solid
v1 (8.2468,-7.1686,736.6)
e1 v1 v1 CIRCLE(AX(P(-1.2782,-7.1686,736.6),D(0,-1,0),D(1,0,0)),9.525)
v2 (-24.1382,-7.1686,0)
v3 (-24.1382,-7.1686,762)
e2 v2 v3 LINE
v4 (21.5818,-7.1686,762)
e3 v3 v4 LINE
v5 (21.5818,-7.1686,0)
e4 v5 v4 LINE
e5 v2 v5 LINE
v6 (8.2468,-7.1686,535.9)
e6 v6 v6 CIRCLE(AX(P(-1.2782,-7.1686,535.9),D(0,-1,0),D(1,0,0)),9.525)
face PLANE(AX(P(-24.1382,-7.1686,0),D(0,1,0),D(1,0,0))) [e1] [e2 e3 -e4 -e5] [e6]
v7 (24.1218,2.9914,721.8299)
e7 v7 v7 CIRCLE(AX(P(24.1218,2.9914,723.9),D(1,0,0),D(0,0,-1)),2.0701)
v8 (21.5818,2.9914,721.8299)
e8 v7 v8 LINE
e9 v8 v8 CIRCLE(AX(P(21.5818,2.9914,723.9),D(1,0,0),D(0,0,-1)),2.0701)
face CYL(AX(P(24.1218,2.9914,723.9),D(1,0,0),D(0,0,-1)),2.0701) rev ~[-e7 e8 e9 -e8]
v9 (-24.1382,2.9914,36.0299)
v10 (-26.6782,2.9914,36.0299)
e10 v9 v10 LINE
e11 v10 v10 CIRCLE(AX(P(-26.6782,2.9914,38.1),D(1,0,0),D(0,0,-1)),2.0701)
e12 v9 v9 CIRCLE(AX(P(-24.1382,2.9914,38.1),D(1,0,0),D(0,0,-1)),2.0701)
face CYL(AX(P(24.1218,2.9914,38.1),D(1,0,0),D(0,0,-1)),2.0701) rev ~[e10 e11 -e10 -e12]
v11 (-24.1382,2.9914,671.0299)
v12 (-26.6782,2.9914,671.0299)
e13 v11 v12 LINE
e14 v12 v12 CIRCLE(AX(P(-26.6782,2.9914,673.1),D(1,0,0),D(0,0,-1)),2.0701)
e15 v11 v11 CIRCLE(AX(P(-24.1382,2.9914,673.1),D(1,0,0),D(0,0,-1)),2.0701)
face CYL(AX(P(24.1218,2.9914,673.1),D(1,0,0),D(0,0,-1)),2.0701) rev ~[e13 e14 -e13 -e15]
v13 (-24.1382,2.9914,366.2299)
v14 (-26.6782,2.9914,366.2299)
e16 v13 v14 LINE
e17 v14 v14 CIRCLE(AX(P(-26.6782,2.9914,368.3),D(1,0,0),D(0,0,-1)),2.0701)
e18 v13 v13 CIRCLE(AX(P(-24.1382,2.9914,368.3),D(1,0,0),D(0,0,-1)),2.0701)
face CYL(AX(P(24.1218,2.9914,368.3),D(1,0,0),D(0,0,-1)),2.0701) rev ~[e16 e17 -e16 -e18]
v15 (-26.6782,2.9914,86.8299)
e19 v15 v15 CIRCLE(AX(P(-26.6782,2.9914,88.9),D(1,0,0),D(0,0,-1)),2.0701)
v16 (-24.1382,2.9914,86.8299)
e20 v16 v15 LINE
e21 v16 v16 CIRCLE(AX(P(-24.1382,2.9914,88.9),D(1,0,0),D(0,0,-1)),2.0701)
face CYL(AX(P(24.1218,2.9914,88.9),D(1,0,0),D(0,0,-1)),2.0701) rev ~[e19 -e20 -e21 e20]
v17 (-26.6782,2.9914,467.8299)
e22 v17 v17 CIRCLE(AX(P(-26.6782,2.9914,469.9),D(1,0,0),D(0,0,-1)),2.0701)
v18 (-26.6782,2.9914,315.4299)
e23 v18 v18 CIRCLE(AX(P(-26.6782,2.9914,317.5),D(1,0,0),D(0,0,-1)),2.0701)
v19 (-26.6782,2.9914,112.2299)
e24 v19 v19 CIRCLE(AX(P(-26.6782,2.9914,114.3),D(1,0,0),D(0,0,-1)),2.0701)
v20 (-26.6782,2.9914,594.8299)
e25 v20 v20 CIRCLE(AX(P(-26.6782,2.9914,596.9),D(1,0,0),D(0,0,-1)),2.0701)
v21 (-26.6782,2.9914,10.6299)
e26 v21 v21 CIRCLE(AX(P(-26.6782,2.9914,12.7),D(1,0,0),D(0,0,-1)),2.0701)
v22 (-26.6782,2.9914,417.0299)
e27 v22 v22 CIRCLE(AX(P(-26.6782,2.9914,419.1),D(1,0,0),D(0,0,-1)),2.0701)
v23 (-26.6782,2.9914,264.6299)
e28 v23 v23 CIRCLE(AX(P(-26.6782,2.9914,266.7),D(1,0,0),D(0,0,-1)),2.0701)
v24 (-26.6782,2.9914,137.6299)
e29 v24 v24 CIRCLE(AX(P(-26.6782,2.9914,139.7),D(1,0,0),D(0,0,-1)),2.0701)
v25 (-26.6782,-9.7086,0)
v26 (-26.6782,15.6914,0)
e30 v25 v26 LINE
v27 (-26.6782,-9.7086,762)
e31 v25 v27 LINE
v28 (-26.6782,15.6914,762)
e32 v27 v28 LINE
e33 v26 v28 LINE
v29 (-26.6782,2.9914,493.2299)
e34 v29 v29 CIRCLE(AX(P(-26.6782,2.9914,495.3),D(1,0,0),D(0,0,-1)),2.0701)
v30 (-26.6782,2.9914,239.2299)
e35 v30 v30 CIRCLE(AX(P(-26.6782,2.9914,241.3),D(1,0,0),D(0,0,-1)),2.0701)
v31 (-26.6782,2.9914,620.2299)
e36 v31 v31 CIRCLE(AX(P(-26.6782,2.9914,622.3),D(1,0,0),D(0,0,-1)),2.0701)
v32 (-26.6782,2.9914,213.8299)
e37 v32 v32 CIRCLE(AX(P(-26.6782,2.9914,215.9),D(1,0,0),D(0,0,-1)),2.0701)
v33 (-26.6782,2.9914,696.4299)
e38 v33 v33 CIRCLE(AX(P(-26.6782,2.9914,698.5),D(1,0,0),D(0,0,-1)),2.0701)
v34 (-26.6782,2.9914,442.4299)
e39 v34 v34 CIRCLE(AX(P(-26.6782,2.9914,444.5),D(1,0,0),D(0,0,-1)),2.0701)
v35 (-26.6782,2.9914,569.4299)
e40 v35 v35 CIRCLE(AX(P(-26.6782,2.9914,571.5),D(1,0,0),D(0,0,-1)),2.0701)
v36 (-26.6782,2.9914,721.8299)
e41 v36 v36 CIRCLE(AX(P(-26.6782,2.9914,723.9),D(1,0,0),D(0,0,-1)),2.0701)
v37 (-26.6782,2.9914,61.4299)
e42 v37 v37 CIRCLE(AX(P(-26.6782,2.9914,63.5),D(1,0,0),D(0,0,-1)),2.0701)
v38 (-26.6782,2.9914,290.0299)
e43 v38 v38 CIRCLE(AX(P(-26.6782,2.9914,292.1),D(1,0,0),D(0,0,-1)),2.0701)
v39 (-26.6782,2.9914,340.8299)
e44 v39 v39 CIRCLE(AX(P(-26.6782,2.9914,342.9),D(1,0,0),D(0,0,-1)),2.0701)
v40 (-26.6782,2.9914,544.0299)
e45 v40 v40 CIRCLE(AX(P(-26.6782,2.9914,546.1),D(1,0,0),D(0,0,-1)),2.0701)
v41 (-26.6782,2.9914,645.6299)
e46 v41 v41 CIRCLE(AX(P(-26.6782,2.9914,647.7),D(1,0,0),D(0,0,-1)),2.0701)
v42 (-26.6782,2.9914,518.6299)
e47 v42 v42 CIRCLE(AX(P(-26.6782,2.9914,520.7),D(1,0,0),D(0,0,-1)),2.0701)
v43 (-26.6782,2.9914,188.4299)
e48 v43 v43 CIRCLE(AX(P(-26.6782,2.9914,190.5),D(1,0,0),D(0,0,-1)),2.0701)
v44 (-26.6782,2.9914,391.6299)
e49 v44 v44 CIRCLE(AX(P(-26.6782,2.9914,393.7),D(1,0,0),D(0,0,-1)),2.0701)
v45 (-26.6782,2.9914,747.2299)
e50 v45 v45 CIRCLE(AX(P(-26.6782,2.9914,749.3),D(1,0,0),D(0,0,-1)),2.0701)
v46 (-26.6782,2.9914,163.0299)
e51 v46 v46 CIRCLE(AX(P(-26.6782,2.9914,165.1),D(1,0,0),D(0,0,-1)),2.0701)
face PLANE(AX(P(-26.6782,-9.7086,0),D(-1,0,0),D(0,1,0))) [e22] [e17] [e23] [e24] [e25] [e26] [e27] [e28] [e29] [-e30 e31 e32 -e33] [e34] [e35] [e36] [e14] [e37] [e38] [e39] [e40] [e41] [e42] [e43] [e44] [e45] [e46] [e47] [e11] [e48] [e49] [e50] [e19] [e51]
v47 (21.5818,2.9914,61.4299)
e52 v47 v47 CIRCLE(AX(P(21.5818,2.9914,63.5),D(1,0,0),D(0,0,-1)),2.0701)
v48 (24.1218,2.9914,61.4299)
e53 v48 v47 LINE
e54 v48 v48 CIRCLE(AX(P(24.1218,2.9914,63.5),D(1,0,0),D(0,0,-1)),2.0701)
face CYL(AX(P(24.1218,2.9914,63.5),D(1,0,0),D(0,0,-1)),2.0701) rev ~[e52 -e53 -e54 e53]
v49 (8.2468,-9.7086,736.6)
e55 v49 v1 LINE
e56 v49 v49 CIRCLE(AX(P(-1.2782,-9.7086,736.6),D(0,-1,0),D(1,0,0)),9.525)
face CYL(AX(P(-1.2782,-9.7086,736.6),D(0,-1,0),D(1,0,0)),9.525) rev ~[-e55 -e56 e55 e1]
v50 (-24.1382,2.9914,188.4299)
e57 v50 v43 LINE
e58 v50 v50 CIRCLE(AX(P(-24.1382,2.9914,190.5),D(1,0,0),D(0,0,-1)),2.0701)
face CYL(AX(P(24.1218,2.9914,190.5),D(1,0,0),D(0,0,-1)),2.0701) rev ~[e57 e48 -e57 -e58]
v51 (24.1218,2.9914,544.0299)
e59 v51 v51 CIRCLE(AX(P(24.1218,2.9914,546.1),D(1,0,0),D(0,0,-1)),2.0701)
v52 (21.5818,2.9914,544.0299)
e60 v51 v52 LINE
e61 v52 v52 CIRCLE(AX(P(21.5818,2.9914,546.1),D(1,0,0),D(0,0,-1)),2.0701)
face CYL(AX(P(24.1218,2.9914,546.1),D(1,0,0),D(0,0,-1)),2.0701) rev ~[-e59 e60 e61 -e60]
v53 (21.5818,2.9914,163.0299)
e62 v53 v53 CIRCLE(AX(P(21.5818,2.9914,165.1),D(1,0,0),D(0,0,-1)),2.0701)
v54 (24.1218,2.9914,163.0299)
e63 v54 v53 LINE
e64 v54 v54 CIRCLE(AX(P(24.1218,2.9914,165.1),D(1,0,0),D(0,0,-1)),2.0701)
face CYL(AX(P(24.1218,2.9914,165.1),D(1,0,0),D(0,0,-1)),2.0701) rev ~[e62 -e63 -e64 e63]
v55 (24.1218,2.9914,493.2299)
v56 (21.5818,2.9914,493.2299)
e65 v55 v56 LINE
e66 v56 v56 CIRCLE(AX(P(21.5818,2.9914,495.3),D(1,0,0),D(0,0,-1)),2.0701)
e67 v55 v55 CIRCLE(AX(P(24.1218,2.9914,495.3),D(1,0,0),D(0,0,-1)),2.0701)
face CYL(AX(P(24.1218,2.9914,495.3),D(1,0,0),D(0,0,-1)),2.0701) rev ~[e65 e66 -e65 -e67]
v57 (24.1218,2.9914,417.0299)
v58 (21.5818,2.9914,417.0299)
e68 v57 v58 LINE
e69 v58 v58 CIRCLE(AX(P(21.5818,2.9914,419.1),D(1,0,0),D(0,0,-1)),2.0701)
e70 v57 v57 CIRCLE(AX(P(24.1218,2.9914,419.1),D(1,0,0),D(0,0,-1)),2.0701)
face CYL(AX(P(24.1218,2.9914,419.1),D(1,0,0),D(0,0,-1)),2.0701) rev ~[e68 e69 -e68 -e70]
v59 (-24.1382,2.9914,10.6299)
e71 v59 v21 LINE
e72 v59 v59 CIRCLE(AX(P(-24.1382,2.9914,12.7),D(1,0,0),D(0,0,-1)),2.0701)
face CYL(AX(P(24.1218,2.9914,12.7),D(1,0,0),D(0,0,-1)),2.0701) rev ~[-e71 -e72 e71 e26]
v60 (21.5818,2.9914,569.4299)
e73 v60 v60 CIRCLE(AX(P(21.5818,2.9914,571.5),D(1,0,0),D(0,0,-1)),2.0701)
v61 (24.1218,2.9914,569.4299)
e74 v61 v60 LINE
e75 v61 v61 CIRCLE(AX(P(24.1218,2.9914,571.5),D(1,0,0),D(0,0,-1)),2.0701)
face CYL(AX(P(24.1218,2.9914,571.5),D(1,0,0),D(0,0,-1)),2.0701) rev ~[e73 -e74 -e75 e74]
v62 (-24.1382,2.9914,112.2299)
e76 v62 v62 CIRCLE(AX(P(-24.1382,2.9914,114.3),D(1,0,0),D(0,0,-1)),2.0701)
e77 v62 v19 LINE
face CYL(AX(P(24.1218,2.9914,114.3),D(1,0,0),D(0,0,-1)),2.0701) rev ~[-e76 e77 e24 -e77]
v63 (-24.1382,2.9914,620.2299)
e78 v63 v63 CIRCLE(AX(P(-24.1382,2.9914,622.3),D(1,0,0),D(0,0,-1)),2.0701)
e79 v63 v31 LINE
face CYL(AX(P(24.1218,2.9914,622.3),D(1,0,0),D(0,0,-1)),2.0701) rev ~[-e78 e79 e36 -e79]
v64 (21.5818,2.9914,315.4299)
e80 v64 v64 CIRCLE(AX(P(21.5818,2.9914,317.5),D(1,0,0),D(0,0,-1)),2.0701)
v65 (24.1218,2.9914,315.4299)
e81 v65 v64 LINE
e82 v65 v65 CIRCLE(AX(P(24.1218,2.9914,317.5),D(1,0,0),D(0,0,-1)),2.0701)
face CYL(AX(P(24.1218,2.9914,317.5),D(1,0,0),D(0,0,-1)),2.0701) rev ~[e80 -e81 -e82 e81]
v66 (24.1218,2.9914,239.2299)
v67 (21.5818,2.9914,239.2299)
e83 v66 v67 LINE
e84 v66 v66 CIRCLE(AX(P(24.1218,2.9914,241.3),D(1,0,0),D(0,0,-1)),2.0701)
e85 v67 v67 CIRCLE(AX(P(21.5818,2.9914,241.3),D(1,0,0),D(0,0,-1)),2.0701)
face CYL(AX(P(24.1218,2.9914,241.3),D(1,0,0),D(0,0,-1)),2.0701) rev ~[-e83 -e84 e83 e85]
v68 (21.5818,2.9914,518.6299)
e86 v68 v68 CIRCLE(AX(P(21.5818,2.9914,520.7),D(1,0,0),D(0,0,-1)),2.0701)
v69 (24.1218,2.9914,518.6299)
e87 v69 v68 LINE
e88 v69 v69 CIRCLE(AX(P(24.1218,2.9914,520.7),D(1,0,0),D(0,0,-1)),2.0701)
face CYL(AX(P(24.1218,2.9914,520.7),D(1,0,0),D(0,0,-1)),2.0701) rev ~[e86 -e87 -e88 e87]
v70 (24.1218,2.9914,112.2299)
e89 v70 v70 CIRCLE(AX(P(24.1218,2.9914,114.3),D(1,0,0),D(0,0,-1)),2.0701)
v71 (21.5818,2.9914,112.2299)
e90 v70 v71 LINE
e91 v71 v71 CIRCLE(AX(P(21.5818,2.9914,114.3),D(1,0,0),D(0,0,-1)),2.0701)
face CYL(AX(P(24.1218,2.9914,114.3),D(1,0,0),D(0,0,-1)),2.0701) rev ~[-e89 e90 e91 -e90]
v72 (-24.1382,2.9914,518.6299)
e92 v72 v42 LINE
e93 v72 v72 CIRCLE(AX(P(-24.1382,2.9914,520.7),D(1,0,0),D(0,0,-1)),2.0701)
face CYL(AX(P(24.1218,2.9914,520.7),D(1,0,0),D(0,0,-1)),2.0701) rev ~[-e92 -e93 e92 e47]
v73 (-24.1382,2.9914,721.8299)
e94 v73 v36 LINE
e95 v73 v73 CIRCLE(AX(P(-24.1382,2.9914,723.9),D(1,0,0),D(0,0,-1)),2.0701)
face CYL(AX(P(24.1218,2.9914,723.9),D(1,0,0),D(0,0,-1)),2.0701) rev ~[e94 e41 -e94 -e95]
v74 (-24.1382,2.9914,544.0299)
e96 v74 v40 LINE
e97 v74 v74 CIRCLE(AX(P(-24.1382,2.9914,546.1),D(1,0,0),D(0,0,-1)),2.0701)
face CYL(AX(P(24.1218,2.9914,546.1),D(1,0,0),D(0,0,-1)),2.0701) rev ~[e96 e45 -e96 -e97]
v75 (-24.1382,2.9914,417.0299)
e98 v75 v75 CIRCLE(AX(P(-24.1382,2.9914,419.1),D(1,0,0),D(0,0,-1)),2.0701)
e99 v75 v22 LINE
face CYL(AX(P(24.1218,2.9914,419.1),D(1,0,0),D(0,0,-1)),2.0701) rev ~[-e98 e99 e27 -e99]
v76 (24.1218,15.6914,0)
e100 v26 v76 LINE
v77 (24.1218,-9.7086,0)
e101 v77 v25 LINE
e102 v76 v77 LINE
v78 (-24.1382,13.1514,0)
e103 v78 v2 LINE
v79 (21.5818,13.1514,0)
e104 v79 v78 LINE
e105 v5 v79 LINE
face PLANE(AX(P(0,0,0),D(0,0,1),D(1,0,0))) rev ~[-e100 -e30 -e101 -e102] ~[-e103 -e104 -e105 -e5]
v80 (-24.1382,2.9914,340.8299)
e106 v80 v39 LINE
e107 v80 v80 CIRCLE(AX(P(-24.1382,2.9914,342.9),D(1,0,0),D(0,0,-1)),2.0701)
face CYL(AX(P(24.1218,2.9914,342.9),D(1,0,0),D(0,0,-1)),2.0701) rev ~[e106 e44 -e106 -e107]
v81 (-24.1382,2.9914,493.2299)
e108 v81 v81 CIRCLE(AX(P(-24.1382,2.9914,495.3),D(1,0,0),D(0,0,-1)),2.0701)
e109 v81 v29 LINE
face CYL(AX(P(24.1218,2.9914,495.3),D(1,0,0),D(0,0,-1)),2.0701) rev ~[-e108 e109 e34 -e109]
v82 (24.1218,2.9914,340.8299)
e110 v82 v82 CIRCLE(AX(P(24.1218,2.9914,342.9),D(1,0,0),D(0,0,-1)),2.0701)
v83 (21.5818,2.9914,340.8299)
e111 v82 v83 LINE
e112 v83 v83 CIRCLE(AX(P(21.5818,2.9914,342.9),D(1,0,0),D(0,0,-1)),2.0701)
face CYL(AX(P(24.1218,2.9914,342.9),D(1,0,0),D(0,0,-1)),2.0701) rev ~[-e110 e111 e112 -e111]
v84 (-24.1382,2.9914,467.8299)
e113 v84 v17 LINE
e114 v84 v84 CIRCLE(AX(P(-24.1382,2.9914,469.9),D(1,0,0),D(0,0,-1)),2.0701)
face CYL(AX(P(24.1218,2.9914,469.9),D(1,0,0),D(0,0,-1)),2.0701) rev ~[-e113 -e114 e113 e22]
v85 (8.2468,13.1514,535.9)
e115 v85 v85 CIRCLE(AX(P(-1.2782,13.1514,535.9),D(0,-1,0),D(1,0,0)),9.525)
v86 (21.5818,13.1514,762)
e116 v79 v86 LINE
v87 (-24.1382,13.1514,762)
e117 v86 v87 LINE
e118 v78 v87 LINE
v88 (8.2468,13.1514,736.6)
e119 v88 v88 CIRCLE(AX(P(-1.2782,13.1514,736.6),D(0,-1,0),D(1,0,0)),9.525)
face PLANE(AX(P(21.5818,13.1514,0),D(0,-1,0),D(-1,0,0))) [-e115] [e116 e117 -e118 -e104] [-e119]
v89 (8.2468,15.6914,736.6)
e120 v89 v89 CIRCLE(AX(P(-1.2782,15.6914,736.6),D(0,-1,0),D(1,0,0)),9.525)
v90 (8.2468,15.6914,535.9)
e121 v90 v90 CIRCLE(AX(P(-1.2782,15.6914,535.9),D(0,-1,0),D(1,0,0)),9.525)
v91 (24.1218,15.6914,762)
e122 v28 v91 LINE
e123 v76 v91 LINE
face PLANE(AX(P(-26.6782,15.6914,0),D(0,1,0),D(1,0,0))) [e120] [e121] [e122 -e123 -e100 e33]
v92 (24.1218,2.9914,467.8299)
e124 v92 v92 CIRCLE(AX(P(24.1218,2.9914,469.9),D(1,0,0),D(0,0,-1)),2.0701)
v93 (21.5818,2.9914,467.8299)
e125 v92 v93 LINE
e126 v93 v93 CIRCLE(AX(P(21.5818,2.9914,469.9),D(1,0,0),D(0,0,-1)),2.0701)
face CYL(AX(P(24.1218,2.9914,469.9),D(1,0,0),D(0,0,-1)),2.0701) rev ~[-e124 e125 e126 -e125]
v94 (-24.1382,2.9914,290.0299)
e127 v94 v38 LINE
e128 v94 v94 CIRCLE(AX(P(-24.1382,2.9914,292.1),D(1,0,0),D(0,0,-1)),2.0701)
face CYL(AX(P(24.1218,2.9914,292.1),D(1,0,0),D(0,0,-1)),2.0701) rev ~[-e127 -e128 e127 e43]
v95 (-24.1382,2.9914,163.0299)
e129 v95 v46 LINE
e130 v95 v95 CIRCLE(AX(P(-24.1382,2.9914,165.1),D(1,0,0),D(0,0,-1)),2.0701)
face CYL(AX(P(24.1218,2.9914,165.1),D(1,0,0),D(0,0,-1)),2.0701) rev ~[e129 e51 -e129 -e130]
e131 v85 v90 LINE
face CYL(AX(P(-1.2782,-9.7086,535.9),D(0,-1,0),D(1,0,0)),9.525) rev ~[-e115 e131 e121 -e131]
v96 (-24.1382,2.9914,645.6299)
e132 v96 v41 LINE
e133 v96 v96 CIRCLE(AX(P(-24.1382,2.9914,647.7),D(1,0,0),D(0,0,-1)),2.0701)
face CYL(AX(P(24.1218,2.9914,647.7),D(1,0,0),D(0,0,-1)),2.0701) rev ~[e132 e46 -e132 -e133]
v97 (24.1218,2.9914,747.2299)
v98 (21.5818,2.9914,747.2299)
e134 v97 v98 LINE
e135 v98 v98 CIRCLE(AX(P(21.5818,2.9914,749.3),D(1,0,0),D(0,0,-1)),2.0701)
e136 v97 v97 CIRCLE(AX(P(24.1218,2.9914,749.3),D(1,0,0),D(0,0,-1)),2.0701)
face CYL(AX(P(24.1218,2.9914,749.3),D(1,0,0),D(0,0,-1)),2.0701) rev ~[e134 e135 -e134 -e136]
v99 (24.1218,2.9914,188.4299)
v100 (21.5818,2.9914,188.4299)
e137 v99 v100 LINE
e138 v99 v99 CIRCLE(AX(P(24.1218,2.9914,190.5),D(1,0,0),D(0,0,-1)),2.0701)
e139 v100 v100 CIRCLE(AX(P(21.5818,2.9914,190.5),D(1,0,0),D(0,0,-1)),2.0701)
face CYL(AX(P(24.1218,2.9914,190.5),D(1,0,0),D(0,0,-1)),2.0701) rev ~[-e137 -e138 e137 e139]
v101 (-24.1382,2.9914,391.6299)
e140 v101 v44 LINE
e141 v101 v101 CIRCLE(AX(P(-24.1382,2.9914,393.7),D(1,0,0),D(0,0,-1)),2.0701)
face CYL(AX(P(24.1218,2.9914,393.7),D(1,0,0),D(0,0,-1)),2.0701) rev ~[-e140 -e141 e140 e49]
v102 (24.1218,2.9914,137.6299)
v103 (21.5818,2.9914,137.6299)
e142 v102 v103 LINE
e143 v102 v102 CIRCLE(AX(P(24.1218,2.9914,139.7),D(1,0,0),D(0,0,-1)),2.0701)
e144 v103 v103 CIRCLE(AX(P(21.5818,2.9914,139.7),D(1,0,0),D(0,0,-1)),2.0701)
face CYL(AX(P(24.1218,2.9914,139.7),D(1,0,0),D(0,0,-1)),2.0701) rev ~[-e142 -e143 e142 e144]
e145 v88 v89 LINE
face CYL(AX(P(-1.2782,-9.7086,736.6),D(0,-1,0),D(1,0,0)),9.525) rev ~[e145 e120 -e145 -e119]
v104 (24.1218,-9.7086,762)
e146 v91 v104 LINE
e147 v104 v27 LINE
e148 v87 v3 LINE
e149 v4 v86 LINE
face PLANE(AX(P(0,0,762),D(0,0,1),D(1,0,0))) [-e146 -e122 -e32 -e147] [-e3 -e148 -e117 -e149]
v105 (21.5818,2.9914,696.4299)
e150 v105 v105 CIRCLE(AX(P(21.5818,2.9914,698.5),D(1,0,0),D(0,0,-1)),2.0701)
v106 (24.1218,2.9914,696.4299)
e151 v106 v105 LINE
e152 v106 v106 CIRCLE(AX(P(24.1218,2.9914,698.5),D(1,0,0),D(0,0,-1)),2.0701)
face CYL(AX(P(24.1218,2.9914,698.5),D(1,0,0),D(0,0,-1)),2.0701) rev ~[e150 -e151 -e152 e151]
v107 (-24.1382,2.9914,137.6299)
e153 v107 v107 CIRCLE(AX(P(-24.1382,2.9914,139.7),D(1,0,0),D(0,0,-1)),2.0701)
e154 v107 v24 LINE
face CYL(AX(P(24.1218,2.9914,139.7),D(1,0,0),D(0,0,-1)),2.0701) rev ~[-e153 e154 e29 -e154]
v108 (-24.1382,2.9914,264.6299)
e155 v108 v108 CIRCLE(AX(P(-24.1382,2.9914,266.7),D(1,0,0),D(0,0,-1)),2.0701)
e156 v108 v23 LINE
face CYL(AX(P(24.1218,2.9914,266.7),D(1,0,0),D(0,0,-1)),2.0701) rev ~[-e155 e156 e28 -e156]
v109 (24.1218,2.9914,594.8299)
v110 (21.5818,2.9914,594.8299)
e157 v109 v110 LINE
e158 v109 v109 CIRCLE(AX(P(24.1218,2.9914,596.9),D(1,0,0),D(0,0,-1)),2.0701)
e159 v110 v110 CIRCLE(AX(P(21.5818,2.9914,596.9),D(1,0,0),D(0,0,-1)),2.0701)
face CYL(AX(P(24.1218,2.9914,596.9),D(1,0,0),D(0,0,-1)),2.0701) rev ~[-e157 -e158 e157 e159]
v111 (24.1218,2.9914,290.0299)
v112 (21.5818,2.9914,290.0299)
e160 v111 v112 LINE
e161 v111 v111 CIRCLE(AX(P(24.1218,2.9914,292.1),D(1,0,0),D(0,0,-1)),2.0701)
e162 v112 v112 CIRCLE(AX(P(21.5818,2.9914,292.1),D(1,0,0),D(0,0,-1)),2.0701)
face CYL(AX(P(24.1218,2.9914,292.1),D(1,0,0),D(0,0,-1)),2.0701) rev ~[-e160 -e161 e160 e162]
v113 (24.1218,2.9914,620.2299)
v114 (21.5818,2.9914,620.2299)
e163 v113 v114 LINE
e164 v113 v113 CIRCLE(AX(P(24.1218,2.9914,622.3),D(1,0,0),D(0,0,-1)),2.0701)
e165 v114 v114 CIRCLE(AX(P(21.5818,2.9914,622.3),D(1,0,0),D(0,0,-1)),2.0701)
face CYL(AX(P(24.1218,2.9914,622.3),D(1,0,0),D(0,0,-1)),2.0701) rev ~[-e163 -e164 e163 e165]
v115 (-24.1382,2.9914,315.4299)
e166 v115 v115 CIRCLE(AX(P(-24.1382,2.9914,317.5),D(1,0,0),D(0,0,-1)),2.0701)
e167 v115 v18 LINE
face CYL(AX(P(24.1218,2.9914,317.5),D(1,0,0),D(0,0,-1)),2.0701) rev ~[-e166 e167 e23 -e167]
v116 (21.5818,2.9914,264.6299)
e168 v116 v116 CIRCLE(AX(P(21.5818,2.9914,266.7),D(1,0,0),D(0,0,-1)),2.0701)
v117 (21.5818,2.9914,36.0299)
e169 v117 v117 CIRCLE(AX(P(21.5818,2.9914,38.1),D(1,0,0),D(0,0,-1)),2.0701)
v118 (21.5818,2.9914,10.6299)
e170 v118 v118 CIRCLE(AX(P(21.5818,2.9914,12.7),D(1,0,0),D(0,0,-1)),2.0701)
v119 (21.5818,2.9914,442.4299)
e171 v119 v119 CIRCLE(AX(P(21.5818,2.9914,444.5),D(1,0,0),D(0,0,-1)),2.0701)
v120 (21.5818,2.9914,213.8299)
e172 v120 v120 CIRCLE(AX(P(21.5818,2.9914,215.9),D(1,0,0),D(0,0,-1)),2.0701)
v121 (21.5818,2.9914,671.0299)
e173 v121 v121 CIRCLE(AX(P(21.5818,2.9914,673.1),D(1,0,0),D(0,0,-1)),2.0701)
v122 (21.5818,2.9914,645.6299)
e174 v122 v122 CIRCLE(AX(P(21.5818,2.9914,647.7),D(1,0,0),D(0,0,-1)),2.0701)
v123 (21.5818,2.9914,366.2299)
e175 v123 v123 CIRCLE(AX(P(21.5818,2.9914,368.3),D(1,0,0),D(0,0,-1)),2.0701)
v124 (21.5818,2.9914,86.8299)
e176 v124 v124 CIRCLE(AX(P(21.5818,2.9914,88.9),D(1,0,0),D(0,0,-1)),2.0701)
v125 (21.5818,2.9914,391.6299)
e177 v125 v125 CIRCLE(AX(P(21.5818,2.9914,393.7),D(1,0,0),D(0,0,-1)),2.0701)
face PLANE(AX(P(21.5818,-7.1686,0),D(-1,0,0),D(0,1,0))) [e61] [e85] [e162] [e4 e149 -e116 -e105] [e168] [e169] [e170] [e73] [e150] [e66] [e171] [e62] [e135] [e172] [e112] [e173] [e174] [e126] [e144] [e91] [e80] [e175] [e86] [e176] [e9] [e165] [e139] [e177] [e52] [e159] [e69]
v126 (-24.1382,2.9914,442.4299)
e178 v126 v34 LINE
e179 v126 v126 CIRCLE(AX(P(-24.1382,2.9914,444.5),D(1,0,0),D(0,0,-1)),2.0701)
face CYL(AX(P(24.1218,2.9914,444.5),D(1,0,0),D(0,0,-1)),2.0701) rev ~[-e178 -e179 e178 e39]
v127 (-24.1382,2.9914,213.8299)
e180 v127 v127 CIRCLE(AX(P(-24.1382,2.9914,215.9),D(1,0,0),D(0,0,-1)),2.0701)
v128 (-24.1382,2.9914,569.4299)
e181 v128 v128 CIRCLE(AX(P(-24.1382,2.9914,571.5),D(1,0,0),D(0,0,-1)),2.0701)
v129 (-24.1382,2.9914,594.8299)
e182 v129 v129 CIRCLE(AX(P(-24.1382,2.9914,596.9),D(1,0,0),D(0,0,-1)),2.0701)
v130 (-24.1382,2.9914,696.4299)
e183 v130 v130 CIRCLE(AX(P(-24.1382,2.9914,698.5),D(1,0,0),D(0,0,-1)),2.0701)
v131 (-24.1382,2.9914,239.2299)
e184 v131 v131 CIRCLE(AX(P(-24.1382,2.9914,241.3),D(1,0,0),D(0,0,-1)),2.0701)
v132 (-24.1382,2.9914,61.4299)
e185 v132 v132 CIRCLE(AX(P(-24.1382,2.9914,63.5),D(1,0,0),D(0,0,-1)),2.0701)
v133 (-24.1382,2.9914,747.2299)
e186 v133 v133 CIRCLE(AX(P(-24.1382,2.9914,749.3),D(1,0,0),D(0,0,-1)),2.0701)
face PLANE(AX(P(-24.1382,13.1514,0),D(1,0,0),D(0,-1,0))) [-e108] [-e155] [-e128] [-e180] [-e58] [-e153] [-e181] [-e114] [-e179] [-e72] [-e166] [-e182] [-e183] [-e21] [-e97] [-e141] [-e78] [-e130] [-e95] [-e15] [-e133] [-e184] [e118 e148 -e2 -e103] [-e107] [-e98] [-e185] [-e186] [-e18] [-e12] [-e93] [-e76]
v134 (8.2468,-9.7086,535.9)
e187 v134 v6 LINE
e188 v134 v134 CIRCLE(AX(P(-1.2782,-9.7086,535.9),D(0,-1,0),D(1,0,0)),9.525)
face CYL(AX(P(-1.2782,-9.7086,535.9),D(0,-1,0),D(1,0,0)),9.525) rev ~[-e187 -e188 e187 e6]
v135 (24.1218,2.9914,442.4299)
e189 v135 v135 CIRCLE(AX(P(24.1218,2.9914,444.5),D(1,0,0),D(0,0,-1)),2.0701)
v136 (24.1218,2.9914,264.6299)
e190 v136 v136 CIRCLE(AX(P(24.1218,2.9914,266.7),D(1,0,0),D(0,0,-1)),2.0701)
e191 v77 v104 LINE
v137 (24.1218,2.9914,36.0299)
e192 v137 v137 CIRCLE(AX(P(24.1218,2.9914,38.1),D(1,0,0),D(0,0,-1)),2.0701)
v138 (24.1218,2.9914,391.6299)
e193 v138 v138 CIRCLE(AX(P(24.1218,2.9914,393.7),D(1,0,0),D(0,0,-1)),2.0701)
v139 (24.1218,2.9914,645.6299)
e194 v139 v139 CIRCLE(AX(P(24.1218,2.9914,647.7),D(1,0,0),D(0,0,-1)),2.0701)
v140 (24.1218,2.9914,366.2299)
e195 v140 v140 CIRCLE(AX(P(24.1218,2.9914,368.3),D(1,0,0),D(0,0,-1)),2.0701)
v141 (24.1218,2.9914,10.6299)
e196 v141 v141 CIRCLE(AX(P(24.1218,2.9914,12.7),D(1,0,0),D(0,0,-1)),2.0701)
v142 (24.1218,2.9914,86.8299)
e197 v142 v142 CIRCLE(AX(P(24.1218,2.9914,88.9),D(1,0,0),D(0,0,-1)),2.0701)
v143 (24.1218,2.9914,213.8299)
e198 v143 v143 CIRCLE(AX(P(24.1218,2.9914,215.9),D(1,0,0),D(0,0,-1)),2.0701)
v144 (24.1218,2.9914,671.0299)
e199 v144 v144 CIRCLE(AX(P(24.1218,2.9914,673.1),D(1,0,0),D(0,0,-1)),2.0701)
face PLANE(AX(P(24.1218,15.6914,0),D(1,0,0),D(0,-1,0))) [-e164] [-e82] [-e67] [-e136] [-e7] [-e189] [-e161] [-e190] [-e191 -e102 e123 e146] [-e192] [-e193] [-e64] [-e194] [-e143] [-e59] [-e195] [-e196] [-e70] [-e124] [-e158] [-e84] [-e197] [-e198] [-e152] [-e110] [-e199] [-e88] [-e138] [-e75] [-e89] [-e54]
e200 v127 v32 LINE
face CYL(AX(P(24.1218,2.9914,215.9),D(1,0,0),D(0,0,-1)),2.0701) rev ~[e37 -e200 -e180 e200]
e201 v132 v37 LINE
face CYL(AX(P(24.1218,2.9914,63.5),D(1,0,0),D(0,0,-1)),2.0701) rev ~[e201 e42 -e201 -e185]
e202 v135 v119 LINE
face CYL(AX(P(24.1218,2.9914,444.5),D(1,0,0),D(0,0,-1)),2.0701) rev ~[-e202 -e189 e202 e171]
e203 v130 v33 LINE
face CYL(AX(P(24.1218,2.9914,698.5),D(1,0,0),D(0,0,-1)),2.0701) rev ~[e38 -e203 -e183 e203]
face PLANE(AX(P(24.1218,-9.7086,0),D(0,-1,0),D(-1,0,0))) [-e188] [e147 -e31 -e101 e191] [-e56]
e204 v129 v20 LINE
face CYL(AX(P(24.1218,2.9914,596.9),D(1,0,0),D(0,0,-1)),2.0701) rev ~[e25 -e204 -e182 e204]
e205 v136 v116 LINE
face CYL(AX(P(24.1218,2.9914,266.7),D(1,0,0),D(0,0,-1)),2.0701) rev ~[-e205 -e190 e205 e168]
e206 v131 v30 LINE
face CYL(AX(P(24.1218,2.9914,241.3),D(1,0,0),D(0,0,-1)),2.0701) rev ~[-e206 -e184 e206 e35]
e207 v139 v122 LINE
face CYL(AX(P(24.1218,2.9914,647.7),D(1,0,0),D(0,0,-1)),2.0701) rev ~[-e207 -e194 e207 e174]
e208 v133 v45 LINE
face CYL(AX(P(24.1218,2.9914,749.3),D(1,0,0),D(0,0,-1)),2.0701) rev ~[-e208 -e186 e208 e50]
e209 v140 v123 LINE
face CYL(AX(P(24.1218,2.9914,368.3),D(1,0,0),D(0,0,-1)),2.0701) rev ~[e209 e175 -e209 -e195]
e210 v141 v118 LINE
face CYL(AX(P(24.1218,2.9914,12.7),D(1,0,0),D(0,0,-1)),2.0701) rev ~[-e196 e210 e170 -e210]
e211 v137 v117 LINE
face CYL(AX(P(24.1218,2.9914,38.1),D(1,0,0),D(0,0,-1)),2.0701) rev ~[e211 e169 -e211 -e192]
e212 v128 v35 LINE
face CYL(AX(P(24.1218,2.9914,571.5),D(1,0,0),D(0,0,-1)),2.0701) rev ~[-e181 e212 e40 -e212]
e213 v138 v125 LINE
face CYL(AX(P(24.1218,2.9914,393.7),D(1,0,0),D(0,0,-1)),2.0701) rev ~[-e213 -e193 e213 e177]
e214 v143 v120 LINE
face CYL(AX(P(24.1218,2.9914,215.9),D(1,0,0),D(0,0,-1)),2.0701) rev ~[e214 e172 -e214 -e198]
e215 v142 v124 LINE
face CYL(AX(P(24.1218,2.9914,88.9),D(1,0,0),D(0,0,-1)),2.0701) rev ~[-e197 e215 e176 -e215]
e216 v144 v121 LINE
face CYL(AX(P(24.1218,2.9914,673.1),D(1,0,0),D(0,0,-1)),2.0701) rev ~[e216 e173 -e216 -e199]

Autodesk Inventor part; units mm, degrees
ref_plane "YZ Plane" through (0, 0, 0) normal (1, 0, 0) x (0, 1, 0)
ref_plane "XZ Plane" through (0, 0, 0) normal (0, 1, 0) x (-1, 0, 0)
ref_plane "XY Plane" through (0, 0, 0) normal (0, 0, 1) x (1, 0, 0)
sketch "Sketch1" plane through (0, 0, 0) normal (0, 0, 1) x (1, 0, 0)
  line L0 (24.1218, -9.7086) -> (-26.6782, -9.7086)
  line L1 (-26.6782, -9.7086) -> (-26.6782, 15.6914)
  line L2 (-26.6782, 15.6914) -> (24.1218, 15.6914)
  line L3 (24.1218, 15.6914) -> (24.1218, -9.7086)
  line L4 (21.5818, 13.1514) -> (-24.1382, 13.1514)
  line L5 (-24.1382, 13.1514) -> (-24.1382, -7.1686)
  line L6 (-24.1382, -7.1686) -> (21.5818, -7.1686)
  line L7 (21.5818, -7.1686) -> (21.5818, 13.1514)
  point P0 (0, 0)
  dimension "d0" = 25.4
  dimension "d1" = 50.8
  dimension "d2" = 2.54
extrude "Extrusion1" add sketch "Sketch1" along normal blind 762
sketch "Sketch2" plane through (24.1218, -9.7086, 0) normal (1, 0, 0) x (0, 0, -1)
  circle A0 centre (-12.7, 12.7) radius 2.0701
  line L0 (0, 25.4) -> (-762, 25.4) projected
  line L1 (0, 25.4) -> (0, 0) projected
  circle A1 centre (-38.1, 12.7) radius 2.0701
  circle A2 centre (-63.5, 12.7) radius 2.0701
  circle A3 centre (-88.9, 12.7) radius 2.0701
  circle A4 centre (-114.3, 12.7) radius 2.0701
  circle A5 centre (-139.7, 12.7) radius 2.0701
  circle A6 centre (-165.1, 12.7) radius 2.0701
  circle A7 centre (-190.5, 12.7) radius 2.0701
  circle A8 centre (-215.9, 12.7) radius 2.0701
  circle A9 centre (-241.3, 12.7) radius 2.0701
  circle A10 centre (-266.7, 12.7) radius 2.0701
  circle A11 centre (-292.1, 12.7) radius 2.0701
  circle A12 centre (-317.5, 12.7) radius 2.0701
  circle A13 centre (-342.9, 12.7) radius 2.0701
  circle A14 centre (-368.3, 12.7) radius 2.0701
  circle A15 centre (-393.7, 12.7) radius 2.0701
  circle A16 centre (-419.1, 12.7) radius 2.0701
  circle A17 centre (-444.5, 12.7) radius 2.0701
  circle A18 centre (-469.9, 12.7) radius 2.0701
  circle A19 centre (-495.3, 12.7) radius 2.0701
  circle A20 centre (-520.7, 12.7) radius 2.0701
  circle A21 centre (-546.1, 12.7) radius 2.0701
  circle A22 centre (-571.5, 12.7) radius 2.0701
  circle A23 centre (-596.9, 12.7) radius 2.0701
  circle A24 centre (-622.3, 12.7) radius 2.0701
  circle A25 centre (-647.7, 12.7) radius 2.0701
  circle A26 centre (-673.1, 12.7) radius 2.0701
  circle A27 centre (-698.5, 12.7) radius 2.0701
  circle A28 centre (-723.9, 12.7) radius 2.0701
  circle A29 centre (-749.3, 12.7) radius 2.0701
  point P0 (0, 9.7086)
  point P1 (0, 12.7)
  dimension "d5" = 12.7
  dimension "d6" = 4.1402
  dimension "d9" = 25.4
extrude "Extrusion2" cut sketch "Sketch2" against normal through all
sketch "Sketch3" plane through (-26.6782, -9.7086, 0) normal (0, -1, 0) x (1, 0, 0)
  circle A0 centre (25.4, 736.6) radius 9.525
  circle A1 centre (25.4, 535.9) radius 9.525
  line L0 (0, 762) -> (50.8, 762) projected
  point P0 (26.6782, 0)
  point P1 (25.4, 762)
  dimension "d16" = 19.05
  dimension "d17" = 200.7
  dimension "d18" = 25.4
extrude "Extrusion3" cut sketch "Sketch3" against normal through all
properties part number "30inVersaFrameUpright"
